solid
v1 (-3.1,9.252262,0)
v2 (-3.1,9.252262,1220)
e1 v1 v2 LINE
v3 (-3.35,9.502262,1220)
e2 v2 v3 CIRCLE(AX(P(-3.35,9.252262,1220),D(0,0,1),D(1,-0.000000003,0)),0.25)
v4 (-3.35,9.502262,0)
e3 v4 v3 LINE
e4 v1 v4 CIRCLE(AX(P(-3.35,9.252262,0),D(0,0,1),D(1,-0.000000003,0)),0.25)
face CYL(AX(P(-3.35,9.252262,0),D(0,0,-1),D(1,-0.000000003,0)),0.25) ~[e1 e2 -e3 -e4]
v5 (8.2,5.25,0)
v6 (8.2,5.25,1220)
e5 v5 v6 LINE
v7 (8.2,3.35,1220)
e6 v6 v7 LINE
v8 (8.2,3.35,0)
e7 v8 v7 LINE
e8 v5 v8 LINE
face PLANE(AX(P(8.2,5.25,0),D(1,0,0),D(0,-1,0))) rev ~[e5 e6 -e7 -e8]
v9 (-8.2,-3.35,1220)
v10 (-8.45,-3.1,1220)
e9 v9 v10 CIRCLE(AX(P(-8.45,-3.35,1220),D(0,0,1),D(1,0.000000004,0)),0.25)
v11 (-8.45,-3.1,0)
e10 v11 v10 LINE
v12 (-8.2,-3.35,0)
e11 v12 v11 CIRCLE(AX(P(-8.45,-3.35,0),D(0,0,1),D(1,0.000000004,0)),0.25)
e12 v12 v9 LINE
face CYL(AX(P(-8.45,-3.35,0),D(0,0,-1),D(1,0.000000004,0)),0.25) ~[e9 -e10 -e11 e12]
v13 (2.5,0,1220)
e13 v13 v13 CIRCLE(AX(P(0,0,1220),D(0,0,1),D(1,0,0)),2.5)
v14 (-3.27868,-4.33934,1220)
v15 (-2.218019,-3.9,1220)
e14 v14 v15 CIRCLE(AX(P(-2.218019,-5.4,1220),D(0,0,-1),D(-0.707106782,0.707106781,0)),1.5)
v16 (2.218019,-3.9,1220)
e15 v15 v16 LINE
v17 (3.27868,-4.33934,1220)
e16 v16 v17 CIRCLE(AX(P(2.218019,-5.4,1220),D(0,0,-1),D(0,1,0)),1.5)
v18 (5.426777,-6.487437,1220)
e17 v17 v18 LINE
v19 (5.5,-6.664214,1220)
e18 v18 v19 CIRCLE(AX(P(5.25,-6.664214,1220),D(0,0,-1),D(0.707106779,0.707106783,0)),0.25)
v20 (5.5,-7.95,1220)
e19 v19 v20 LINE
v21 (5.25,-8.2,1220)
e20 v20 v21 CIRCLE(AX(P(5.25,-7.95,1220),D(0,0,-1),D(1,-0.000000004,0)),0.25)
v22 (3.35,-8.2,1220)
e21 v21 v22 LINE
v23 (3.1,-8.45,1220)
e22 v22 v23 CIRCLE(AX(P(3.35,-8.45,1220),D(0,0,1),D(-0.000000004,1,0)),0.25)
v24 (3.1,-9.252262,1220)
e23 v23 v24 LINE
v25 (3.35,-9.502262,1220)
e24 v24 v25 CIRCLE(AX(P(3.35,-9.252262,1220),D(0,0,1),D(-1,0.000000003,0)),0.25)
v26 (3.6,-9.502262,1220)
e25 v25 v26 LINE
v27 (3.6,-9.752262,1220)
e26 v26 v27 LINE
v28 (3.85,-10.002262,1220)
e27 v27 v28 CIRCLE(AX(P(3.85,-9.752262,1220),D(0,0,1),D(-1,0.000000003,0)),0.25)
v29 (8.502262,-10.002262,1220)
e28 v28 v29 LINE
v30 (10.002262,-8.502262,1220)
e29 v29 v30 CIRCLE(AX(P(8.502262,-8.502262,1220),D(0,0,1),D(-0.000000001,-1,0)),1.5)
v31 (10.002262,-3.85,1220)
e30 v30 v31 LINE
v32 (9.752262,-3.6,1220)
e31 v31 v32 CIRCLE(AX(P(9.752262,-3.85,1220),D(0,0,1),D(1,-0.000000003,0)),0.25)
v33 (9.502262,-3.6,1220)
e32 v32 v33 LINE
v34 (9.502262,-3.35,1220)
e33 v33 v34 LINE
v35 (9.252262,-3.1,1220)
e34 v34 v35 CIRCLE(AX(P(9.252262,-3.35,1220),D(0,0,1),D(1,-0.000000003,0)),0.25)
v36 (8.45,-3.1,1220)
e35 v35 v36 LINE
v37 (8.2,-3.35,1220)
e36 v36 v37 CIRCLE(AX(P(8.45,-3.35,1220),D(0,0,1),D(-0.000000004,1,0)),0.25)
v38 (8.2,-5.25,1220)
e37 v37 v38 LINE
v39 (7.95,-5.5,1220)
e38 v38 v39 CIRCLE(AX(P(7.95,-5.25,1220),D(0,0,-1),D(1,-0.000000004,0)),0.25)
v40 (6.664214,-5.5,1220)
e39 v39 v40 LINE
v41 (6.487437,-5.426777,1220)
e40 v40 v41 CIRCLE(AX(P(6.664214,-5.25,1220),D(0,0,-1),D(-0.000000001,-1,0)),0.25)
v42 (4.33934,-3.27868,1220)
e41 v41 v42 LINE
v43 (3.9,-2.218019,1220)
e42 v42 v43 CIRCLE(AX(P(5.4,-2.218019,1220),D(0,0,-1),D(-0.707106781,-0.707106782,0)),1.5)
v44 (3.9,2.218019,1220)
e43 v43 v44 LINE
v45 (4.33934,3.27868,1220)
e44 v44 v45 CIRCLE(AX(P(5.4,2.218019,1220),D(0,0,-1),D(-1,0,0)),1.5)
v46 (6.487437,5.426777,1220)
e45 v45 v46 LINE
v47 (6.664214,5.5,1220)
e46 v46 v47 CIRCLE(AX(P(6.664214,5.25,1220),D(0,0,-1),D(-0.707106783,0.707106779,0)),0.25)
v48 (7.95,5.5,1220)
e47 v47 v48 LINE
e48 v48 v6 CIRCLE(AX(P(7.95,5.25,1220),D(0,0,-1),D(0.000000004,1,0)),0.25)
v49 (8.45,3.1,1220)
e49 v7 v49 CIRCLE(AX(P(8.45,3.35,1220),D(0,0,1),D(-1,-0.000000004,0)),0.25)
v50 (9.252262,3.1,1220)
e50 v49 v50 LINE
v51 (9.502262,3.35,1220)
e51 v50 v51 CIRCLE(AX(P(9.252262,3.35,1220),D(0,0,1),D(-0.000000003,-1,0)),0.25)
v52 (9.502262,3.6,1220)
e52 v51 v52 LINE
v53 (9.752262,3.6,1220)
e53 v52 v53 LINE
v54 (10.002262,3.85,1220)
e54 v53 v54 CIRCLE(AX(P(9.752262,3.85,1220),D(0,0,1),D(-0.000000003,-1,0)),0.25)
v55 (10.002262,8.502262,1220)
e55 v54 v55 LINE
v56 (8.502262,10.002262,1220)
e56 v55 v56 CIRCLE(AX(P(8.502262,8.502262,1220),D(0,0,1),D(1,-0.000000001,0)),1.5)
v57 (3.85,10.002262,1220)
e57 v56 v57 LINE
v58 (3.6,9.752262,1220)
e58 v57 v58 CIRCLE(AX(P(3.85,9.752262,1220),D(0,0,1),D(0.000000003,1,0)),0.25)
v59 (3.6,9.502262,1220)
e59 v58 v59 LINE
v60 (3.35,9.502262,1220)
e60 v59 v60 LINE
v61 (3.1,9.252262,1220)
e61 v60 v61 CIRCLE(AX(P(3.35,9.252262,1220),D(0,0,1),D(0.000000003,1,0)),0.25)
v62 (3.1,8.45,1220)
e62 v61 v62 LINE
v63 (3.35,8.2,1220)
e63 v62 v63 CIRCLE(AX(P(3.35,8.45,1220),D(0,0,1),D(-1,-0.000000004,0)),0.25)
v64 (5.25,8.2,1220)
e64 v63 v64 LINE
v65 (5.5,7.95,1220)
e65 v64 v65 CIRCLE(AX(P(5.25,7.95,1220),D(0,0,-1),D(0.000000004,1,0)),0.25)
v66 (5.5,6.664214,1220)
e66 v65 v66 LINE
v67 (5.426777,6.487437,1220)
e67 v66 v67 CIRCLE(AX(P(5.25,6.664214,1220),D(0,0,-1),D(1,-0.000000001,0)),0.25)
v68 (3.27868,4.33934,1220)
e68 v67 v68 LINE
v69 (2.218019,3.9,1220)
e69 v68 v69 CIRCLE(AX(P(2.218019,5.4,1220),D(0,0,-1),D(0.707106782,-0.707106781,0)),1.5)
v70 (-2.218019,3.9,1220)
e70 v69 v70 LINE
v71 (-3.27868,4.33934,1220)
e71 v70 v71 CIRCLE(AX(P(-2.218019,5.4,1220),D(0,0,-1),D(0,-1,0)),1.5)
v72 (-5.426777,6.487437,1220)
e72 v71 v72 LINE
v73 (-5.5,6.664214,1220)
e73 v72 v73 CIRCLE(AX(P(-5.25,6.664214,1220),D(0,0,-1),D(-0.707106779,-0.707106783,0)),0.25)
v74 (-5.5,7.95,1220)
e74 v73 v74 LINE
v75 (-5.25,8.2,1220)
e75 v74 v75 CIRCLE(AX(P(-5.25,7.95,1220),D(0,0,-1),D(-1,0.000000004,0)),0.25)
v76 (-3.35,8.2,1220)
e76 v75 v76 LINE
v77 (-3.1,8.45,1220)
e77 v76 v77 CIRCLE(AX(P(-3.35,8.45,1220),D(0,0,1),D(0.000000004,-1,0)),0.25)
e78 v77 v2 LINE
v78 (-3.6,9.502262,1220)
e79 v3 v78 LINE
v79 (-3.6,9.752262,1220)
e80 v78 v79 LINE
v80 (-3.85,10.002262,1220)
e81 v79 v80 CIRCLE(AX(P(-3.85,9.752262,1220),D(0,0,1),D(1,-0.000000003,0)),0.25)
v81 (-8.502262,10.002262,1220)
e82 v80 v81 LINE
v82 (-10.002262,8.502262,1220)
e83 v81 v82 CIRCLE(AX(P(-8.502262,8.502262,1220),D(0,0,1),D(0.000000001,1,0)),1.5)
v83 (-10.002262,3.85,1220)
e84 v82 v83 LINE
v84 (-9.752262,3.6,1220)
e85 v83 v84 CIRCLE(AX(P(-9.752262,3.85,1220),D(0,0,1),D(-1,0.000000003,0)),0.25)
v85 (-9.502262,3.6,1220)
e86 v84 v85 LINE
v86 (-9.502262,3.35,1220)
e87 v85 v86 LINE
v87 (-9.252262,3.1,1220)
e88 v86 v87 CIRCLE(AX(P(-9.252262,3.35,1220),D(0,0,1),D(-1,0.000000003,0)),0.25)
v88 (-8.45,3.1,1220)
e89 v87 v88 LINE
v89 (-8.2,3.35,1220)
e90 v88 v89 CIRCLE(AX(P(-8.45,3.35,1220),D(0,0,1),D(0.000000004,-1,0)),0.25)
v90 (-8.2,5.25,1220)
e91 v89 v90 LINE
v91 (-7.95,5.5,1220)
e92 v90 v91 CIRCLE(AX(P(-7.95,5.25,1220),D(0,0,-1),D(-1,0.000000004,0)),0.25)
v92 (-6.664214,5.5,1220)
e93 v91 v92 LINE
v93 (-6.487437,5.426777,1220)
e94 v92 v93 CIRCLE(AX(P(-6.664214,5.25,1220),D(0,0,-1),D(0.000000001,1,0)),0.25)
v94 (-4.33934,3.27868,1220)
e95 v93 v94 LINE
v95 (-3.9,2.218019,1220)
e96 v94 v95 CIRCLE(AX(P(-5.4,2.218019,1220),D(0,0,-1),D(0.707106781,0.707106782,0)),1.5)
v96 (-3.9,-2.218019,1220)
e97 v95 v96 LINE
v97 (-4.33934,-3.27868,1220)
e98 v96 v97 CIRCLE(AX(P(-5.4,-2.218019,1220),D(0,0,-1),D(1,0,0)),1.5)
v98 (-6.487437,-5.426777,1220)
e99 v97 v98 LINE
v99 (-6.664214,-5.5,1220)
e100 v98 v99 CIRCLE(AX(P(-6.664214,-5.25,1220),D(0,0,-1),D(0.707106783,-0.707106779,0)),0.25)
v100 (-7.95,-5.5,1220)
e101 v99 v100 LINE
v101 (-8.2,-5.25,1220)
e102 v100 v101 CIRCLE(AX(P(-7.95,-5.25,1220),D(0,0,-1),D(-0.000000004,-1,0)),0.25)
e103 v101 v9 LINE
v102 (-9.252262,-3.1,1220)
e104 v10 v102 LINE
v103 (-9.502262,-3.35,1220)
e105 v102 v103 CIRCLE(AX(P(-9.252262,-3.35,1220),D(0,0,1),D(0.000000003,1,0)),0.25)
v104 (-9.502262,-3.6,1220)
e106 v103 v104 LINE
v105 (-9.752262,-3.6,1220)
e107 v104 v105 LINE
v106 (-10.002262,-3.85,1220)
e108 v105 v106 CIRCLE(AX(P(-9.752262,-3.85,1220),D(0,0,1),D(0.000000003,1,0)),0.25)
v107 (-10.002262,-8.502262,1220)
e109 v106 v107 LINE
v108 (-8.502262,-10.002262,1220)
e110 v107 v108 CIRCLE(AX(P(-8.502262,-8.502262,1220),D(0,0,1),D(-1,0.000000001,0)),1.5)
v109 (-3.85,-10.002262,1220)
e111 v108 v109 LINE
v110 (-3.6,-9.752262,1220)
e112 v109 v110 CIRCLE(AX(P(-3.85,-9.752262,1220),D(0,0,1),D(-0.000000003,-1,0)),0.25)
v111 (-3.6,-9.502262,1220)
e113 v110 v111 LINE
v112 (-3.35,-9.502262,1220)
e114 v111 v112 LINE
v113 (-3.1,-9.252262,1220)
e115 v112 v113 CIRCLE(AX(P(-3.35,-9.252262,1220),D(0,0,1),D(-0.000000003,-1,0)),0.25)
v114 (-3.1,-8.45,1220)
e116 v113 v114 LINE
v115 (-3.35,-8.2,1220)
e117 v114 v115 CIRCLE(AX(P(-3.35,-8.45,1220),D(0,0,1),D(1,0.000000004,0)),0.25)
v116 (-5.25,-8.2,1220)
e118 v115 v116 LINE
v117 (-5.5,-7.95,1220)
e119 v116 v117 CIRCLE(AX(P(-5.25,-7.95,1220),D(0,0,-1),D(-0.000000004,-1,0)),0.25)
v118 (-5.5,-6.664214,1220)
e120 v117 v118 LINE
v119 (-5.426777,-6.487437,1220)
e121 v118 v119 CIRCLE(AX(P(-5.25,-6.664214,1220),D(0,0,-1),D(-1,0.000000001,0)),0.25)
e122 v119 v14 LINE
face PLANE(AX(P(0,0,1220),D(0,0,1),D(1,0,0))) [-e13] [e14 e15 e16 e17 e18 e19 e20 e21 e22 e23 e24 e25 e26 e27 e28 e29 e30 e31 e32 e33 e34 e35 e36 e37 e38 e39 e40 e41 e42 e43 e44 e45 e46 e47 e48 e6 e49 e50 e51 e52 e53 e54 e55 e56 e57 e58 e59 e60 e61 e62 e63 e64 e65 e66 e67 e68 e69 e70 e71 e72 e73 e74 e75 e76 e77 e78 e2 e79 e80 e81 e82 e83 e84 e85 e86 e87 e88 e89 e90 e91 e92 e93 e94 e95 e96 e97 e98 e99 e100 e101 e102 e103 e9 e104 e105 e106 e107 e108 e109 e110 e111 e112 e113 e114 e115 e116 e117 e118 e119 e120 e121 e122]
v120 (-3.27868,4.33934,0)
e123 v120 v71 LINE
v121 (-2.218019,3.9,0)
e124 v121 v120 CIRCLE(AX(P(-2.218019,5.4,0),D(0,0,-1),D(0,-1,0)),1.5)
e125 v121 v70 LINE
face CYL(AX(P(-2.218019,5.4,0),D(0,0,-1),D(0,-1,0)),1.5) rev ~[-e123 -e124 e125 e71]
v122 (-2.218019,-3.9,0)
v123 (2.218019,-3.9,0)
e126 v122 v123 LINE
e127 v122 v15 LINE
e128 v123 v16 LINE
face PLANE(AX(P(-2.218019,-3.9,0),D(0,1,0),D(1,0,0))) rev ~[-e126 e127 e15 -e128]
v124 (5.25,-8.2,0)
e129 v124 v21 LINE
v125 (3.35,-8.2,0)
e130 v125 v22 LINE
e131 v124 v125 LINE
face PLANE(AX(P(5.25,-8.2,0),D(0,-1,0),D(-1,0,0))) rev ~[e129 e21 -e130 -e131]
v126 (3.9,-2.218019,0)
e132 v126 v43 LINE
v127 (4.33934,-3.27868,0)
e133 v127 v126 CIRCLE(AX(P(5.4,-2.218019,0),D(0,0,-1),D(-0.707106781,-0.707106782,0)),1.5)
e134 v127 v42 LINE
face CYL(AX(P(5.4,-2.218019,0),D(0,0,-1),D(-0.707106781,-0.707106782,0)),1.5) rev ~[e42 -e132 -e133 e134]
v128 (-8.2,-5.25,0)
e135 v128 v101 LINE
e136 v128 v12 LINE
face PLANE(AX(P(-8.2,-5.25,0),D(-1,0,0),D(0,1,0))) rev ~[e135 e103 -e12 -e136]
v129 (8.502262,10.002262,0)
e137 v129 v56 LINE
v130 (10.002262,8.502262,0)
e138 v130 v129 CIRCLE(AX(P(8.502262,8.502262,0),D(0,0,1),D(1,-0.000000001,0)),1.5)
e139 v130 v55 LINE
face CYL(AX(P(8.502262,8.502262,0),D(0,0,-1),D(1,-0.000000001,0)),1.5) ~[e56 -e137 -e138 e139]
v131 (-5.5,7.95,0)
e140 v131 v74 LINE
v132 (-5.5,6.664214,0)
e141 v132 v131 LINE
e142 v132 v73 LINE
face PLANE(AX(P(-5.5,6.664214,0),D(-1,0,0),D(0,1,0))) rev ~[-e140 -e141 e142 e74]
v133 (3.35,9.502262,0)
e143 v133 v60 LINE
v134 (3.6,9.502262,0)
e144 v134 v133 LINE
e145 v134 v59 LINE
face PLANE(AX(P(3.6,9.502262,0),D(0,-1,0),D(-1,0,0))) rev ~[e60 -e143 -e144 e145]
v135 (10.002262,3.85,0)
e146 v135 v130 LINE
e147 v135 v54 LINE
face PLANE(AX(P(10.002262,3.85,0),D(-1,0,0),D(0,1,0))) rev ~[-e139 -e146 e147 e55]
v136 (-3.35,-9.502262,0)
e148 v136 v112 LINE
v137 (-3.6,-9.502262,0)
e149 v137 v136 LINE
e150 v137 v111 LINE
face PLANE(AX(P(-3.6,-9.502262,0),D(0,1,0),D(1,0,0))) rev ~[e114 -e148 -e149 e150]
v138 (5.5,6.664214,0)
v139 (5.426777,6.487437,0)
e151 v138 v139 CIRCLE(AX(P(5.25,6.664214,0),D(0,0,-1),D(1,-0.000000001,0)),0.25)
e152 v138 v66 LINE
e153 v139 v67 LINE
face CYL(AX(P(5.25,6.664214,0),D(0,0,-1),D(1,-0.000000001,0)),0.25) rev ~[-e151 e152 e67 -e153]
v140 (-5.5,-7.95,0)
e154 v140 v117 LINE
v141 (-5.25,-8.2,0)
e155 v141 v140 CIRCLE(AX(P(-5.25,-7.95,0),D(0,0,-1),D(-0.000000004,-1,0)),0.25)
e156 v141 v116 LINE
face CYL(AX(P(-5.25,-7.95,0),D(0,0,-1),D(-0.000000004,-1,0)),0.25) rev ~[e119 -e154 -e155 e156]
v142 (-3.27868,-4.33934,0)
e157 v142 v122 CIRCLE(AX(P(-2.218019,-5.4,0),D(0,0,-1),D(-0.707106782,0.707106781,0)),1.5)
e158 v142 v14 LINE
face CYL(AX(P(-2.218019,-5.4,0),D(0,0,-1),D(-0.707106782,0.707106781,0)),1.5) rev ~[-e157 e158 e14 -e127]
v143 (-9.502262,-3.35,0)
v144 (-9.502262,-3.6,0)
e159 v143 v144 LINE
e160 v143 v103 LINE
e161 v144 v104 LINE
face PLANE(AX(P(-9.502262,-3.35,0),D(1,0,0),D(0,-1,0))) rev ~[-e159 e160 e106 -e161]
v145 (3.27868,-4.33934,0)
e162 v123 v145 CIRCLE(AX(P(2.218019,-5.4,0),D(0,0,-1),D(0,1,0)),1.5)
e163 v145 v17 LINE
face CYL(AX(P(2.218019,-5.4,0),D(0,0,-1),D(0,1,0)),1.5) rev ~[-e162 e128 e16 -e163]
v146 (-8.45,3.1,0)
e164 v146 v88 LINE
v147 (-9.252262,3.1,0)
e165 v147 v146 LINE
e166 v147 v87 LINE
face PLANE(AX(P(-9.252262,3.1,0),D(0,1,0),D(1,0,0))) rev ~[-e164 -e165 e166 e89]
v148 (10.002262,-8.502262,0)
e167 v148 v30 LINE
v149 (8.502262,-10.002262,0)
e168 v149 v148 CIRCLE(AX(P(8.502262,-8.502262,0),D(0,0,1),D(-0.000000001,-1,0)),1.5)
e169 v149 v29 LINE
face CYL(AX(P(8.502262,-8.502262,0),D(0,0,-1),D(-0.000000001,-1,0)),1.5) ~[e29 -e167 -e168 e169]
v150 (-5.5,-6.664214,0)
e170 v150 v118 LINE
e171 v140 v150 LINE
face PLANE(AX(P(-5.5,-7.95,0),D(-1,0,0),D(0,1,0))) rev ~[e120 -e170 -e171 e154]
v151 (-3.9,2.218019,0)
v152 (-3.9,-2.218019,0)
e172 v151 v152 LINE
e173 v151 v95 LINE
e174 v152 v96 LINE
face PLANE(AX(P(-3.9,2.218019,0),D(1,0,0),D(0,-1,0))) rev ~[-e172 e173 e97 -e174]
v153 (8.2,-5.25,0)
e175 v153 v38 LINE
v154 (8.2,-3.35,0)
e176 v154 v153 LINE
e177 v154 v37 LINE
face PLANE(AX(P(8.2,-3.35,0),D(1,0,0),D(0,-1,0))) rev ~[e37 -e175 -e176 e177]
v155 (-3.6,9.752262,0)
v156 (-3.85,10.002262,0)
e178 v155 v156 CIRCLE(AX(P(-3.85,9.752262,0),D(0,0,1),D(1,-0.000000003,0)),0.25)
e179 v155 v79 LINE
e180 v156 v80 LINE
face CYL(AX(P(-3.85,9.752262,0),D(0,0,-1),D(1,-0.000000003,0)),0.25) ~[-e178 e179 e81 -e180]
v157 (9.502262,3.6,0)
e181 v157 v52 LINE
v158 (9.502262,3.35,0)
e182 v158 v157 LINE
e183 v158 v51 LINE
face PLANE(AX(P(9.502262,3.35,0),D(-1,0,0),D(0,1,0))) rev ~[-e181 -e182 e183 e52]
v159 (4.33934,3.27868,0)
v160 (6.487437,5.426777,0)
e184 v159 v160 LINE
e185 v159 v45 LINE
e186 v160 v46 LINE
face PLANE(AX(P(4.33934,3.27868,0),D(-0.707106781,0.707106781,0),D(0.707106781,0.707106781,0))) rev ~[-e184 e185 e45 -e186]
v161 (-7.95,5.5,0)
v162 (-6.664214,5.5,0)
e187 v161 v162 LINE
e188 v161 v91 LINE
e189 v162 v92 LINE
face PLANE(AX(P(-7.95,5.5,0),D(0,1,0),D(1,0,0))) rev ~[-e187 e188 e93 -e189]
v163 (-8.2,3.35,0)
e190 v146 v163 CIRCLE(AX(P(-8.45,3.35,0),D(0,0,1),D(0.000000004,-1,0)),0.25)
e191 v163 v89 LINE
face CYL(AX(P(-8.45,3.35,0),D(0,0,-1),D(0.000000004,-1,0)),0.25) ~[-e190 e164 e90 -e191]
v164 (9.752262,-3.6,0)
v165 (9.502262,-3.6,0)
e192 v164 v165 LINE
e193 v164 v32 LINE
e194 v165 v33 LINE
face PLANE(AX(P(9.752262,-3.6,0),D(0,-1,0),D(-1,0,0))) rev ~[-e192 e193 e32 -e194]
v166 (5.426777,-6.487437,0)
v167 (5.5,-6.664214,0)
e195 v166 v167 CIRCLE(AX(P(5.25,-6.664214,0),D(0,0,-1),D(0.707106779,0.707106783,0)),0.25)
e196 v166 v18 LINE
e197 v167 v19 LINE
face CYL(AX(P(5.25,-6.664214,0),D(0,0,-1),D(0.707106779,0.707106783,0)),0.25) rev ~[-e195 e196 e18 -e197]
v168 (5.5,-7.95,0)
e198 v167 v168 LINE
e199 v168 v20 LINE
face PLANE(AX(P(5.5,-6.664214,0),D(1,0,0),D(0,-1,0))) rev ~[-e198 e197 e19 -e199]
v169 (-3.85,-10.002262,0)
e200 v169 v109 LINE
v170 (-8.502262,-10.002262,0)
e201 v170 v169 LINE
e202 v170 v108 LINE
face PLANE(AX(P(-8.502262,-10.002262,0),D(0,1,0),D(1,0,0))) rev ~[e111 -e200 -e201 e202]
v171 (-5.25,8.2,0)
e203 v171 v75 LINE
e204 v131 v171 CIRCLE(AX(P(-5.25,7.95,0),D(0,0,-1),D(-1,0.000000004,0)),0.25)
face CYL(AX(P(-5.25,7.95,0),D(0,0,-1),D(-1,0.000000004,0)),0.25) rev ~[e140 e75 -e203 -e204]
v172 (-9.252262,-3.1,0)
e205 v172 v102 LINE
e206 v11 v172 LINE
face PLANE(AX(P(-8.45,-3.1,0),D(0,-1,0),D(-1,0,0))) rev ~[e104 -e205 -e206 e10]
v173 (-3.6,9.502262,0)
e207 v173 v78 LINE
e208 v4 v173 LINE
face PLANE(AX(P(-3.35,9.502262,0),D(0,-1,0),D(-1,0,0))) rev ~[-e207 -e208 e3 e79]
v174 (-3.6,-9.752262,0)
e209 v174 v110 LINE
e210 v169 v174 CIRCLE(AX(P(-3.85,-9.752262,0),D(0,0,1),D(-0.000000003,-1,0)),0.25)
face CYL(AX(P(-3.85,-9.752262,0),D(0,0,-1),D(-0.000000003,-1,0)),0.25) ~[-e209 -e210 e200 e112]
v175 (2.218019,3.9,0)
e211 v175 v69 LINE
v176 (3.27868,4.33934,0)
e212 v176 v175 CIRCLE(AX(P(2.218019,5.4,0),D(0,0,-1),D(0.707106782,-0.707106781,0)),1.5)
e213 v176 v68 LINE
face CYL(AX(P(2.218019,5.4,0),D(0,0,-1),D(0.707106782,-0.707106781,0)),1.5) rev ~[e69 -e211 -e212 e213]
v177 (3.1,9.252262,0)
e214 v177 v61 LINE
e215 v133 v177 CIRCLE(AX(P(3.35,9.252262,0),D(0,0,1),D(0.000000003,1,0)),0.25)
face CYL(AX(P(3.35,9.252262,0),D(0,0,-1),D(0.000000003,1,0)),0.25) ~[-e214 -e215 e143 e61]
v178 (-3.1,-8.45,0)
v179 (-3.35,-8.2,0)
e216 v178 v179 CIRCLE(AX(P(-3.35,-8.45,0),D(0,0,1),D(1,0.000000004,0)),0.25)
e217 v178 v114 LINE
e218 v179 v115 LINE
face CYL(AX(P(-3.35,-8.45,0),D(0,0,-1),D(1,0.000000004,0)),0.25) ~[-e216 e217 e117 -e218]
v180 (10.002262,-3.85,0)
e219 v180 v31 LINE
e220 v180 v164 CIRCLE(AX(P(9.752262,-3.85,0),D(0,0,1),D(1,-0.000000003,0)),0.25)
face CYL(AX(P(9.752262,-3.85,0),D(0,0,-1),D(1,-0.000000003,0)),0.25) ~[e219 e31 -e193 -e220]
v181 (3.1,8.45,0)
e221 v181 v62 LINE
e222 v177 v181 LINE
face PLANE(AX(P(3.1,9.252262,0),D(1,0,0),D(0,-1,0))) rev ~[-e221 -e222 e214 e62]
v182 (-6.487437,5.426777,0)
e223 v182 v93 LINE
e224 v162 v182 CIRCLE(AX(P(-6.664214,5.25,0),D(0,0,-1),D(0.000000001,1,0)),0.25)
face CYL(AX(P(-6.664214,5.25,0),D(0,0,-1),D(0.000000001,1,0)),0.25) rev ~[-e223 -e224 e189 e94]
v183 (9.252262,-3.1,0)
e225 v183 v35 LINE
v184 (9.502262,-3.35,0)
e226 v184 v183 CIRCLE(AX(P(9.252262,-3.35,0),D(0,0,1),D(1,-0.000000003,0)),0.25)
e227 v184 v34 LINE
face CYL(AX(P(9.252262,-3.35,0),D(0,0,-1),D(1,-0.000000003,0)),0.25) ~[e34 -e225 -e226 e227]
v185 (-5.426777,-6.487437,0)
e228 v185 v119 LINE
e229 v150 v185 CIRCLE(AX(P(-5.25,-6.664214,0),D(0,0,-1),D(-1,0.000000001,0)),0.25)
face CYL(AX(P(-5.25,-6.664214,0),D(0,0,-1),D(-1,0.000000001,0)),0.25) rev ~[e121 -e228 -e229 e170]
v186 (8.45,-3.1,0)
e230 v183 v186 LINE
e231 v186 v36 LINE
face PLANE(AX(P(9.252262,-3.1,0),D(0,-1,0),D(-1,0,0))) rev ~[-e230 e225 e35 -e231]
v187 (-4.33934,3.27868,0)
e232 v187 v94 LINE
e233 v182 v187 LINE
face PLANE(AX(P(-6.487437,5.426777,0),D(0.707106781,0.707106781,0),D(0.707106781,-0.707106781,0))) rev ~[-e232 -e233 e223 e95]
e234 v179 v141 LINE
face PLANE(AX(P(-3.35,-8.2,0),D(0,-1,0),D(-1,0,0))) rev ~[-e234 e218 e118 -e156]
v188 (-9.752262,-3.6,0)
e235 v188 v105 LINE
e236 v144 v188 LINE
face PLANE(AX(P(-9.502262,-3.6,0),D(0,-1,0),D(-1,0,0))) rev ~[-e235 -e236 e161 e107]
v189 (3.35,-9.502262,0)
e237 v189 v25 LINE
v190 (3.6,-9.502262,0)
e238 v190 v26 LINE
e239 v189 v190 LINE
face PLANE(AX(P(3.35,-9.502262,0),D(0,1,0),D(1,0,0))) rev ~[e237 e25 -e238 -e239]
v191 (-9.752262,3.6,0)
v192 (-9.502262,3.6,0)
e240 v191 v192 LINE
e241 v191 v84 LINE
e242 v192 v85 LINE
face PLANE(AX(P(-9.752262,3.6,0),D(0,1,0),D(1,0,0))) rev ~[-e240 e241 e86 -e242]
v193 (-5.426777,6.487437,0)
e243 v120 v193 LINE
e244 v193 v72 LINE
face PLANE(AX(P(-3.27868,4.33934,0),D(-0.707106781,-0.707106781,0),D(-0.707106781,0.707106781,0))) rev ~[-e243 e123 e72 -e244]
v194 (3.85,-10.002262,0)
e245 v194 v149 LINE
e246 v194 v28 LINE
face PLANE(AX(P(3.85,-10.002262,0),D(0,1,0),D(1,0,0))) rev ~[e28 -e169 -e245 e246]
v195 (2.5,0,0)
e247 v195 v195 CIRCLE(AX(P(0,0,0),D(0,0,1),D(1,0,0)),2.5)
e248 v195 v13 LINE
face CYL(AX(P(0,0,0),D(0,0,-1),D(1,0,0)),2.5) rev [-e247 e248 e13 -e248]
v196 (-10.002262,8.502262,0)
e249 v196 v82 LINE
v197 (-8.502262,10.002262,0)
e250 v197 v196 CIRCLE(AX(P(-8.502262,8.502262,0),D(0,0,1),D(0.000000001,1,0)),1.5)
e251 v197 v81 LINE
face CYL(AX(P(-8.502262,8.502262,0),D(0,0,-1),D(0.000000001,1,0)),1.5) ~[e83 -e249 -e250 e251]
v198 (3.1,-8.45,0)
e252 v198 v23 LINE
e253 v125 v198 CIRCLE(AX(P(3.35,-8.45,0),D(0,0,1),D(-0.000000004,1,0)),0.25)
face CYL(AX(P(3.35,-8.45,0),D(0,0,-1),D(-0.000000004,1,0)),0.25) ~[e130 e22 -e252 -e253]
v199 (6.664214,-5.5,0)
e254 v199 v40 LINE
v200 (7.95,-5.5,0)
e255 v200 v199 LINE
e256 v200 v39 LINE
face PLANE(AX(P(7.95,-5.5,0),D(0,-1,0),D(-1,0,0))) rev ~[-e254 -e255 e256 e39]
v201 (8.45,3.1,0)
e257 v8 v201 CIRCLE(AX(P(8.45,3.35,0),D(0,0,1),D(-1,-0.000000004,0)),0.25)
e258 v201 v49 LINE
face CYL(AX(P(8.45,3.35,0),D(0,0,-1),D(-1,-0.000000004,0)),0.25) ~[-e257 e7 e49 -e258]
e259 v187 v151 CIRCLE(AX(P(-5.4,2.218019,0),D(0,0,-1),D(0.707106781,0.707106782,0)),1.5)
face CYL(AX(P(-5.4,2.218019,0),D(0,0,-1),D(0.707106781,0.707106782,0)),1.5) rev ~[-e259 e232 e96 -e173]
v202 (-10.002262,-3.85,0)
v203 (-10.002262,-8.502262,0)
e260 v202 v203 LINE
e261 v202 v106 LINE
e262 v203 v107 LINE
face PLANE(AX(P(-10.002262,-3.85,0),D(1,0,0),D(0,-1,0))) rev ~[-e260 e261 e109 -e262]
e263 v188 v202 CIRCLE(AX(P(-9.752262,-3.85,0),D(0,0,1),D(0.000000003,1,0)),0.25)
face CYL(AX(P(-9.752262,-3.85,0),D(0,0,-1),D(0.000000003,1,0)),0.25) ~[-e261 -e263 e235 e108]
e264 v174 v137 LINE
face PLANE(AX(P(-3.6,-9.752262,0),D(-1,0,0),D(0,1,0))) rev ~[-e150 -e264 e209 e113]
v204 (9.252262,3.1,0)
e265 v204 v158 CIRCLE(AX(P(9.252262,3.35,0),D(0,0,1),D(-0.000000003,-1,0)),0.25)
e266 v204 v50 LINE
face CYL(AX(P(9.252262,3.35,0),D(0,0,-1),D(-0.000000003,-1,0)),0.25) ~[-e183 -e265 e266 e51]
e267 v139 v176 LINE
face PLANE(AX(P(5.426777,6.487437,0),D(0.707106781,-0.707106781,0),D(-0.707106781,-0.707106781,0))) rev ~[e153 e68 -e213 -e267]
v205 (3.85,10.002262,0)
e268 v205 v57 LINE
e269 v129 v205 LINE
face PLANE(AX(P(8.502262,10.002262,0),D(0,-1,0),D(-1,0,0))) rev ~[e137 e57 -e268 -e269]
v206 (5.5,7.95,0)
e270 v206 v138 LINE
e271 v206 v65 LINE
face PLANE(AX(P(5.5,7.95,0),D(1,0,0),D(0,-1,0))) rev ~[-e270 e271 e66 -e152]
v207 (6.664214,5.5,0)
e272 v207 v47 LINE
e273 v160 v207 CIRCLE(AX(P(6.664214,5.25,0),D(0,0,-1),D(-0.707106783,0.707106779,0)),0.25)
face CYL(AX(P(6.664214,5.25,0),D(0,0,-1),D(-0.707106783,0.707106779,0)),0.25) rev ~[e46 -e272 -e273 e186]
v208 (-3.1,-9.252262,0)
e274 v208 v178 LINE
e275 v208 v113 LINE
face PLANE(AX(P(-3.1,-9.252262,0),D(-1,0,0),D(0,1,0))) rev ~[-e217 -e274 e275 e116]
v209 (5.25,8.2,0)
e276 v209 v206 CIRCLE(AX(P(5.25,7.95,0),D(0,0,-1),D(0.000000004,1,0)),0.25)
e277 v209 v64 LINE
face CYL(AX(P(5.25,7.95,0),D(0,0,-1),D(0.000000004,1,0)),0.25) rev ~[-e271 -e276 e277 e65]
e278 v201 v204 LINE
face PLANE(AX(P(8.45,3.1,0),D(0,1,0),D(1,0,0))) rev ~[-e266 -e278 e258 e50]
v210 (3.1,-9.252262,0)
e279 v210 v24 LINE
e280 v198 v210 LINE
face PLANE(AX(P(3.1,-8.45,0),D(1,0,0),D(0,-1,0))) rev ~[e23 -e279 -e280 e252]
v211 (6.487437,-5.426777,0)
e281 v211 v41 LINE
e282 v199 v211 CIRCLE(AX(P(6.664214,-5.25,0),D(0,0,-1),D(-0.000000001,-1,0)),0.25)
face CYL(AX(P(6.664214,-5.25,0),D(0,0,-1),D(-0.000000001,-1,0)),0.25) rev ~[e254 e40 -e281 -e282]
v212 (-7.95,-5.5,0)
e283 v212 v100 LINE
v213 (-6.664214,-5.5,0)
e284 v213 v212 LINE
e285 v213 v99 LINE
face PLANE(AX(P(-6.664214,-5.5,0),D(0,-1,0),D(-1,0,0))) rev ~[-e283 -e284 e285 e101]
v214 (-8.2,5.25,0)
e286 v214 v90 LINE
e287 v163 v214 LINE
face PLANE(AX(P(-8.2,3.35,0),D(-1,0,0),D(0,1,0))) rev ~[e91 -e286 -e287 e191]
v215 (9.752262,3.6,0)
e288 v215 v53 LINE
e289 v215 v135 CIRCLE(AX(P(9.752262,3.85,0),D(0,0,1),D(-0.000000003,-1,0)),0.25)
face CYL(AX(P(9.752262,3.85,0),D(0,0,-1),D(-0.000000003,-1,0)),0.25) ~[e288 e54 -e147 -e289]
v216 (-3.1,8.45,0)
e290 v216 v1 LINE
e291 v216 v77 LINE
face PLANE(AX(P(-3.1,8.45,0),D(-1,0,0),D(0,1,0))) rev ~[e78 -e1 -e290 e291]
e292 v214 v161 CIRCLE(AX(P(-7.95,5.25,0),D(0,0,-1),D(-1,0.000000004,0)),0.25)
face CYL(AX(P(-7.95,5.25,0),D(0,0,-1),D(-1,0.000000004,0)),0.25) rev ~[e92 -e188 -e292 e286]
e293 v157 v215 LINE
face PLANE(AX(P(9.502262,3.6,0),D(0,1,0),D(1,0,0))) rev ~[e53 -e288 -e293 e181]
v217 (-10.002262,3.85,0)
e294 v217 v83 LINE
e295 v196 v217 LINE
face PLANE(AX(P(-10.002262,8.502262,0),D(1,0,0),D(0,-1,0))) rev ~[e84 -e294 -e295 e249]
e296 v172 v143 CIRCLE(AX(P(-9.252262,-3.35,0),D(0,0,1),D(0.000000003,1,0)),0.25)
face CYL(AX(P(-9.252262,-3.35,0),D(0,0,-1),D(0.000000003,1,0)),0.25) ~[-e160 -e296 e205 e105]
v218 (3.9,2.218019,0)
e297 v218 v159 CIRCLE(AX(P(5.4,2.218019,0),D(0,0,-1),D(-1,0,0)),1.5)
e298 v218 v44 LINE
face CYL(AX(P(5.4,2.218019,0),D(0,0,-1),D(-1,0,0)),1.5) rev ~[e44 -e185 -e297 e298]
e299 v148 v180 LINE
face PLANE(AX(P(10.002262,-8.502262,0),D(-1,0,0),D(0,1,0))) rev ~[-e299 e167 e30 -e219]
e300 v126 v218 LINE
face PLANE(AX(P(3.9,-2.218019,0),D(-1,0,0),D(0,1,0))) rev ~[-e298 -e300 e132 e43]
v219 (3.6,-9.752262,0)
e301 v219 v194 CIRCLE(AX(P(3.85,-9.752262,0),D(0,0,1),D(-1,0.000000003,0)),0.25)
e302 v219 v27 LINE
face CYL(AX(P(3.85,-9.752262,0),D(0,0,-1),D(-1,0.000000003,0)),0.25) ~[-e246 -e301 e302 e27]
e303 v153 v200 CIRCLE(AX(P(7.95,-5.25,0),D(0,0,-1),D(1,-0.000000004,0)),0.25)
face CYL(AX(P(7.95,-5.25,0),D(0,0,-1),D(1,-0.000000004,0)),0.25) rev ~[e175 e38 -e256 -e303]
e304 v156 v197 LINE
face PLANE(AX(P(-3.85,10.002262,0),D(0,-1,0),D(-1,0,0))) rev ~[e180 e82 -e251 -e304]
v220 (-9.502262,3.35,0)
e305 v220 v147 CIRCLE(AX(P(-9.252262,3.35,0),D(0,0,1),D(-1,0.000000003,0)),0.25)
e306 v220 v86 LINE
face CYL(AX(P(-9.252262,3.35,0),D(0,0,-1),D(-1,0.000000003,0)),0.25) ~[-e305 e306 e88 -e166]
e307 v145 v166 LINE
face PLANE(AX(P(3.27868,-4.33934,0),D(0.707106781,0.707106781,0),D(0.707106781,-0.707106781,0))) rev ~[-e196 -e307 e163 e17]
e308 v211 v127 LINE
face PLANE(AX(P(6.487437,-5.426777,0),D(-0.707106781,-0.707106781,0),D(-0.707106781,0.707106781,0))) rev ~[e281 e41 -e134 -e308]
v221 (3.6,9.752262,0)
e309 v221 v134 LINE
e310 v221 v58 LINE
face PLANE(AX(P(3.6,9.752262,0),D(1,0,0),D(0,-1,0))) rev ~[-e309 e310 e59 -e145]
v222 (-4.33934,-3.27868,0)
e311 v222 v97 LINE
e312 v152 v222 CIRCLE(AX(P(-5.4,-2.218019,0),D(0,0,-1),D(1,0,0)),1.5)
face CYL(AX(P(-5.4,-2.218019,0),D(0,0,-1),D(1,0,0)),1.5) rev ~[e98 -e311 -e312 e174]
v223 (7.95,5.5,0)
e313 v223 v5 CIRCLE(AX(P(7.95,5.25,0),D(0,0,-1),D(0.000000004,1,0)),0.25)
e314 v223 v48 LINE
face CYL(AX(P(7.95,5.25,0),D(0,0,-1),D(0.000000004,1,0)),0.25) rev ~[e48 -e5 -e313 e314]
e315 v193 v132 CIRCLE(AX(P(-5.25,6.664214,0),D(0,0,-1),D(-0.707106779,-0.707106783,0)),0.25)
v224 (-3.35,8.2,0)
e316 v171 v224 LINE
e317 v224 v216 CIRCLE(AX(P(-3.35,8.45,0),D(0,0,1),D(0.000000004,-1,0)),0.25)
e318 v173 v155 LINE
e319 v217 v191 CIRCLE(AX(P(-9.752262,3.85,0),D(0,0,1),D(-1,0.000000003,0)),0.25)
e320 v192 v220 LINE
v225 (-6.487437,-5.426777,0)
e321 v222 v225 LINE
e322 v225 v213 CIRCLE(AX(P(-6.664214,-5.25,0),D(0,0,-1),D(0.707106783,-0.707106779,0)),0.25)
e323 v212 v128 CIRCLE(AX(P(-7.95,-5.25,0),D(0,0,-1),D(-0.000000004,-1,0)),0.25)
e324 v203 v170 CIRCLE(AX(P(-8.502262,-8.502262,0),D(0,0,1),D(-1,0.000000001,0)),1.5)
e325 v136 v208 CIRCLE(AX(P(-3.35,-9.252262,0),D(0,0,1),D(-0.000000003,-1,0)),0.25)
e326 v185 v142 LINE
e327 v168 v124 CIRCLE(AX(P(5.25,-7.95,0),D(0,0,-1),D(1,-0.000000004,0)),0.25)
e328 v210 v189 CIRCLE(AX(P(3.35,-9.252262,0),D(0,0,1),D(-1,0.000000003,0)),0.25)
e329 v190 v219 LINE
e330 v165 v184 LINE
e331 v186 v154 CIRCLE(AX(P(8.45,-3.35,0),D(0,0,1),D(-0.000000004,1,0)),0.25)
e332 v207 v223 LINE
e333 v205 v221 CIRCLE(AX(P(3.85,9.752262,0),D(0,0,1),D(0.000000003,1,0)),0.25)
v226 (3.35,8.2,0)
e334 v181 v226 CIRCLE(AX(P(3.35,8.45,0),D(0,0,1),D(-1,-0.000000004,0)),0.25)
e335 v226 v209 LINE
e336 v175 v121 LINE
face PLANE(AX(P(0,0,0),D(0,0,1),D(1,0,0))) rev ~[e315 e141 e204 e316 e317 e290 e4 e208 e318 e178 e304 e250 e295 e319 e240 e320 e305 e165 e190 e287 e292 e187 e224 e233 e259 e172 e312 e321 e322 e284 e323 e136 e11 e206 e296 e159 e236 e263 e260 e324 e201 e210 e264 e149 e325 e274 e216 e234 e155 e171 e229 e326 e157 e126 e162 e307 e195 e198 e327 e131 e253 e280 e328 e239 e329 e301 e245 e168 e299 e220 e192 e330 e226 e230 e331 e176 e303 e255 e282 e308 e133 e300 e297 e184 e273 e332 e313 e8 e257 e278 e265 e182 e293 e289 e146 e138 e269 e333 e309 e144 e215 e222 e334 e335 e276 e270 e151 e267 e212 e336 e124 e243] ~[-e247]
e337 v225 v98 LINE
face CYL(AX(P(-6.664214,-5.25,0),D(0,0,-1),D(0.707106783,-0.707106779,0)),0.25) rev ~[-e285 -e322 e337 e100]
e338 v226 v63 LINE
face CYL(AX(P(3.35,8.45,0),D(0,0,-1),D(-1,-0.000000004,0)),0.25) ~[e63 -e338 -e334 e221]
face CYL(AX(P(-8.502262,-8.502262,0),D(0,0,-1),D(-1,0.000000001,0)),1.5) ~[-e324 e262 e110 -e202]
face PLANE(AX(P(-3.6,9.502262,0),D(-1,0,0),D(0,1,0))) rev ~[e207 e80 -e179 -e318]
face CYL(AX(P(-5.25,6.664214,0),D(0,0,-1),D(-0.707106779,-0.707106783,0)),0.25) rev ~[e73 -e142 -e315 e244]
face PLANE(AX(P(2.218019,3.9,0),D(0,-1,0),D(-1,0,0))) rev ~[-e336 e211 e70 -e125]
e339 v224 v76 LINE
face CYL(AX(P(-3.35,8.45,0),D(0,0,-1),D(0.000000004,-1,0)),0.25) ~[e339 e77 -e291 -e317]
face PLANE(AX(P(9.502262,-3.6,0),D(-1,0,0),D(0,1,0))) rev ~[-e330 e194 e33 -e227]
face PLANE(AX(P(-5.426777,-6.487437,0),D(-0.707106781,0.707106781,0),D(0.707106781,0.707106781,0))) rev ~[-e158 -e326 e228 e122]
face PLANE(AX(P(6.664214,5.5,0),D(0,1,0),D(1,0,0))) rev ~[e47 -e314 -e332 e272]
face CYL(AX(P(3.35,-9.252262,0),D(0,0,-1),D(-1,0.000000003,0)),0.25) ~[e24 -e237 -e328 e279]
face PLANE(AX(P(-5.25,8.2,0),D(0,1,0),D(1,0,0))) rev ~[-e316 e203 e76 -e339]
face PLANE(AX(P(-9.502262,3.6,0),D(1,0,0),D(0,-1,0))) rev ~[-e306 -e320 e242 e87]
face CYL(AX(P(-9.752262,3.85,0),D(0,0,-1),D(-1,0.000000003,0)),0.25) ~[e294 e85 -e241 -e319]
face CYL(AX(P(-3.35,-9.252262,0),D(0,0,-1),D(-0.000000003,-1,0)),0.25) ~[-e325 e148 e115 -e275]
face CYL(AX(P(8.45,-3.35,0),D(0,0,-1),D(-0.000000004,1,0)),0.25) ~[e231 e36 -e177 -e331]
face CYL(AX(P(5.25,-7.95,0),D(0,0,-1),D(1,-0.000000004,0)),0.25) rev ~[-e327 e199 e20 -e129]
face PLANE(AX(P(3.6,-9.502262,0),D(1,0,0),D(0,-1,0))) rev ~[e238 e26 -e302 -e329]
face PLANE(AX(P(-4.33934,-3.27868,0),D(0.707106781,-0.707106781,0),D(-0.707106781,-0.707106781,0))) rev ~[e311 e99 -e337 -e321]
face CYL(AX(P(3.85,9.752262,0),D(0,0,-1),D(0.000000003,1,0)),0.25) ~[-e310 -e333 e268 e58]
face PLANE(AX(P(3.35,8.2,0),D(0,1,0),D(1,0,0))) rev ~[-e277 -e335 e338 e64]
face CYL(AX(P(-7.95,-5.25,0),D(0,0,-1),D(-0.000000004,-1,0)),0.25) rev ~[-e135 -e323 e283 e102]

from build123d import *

# Parameters (mm, degrees)
SKETCH_1_R      = 2.5
EXTRUDE_1_DEPTH = 1220


with BuildPart() as part:
    # 草图1 → 凸台-拉伸1 (new body)
    with BuildSketch(Plane.XY):
        with BuildLine():
            Line((-8.502261885, -10.002261885), (-3.85, -10.002261885))
            ThreePointArc((-3.85, -10.002261885), (-3.673223305, -9.929038581), (-3.6, -9.752261885))
            Line((-3.6, -9.752261885), (-3.6, -9.502261885))
            Line((-3.6, -9.502261885), (-3.35, -9.502261885))
            ThreePointArc((-3.35, -9.502261885), (-3.173223305, -9.429038581), (-3.1, -9.252261885))
            Line((-3.1, -9.252261885), (-3.1, -8.45))
            ThreePointArc((-3.1, -8.45), (-3.173223305, -8.273223305), (-3.35, -8.2))
            Line((-3.35, -8.2), (-5.25, -8.2))
            ThreePointArc((-5.25, -8.2), (-5.426776695, -8.126776695), (-5.5, -7.95))
            Line((-5.5, -7.95), (-5.5, -6.664213562))
            ThreePointArc((-5.5, -6.664213562), (-5.480969883, -6.568542704), (-5.426776695, -6.487436867))
            Line((-5.426776695, -6.487436867), (-3.278679656, -4.339339828))
            ThreePointArc((-3.278679656, -4.339339828), (-2.792044633, -4.014180701), (-2.218019485, -3.9))
            Line((-2.218019485, -3.9), (2.218019485, -3.9))
            ThreePointArc((2.218019485, -3.9), (2.792044633, -4.014180701), (3.278679656, -4.339339828))
            Line((3.278679656, -4.339339828), (5.426776695, -6.487436867))
            ThreePointArc((5.426776695, -6.487436867), (5.480969883, -6.568542704), (5.5, -6.664213562))
            Line((5.5, -6.664213562), (5.5, -7.95))
            ThreePointArc((5.5, -7.95), (5.426776695, -8.126776695), (5.25, -8.2))
            Line((5.25, -8.2), (3.35, -8.2))
            ThreePointArc((3.35, -8.2), (3.173223305, -8.273223305), (3.1, -8.45))
            Line((3.1, -8.45), (3.1, -9.252261885))
            ThreePointArc((3.1, -9.252261885), (3.173223305, -9.429038581), (3.35, -9.502261885))
            Line((3.35, -9.502261885), (3.6, -9.502261885))
            Line((3.6, -9.502261885), (3.6, -9.752261885))
            ThreePointArc((3.6, -9.752261885), (3.673223305, -9.929038581), (3.85, -10.002261885))
            Line((3.85, -10.002261885), (8.502261885, -10.002261885))
            ThreePointArc((8.502261885, -10.002261885), (9.562922057, -9.562922057), (10.002261885, -8.502261885))
            Line((10.002261885, -8.502261885), (10.002261885, -3.85))
            ThreePointArc((10.002261885, -3.85), (9.929038581, -3.673223305), (9.752261885, -3.6))
            Line((9.752261885, -3.6), (9.502261885, -3.6))
            Line((9.502261885, -3.6), (9.502261885, -3.35))
            ThreePointArc((9.502261885, -3.35), (9.429038581, -3.173223305), (9.252261885, -3.1))
            Line((9.252261885, -3.1), (8.45, -3.1))
            ThreePointArc((8.45, -3.1), (8.273223305, -3.173223305), (8.2, -3.35))
            Line((8.2, -3.35), (8.2, -5.25))
            ThreePointArc((8.2, -5.25), (8.126776695, -5.426776695), (7.95, -5.5))
            Line((7.95, -5.5), (6.664213562, -5.5))
            ThreePointArc((6.664213562, -5.5), (6.568542704, -5.480969883), (6.487436867, -5.426776695))
            Line((6.487436867, -5.426776695), (4.339339828, -3.278679656))
            ThreePointArc((4.339339828, -3.278679656), (4.014180701, -2.792044633), (3.9, -2.218019485))
            Line((3.9, -2.218019485), (3.9, 2.218019485))
            ThreePointArc((3.9, 2.218019485), (4.014180701, 2.792044633), (4.339339828, 3.278679656))
            Line((4.339339828, 3.278679656), (6.487436867, 5.426776695))
            ThreePointArc((6.487436867, 5.426776695), (6.568542704, 5.480969883), (6.664213562, 5.5))
            Line((6.664213562, 5.5), (7.95, 5.5))
            ThreePointArc((7.95, 5.5), (8.126776695, 5.426776695), (8.2, 5.25))
            Line((8.2, 5.25), (8.2, 3.35))
            ThreePointArc((8.2, 3.35), (8.273223305, 3.173223305), (8.45, 3.1))
            Line((8.45, 3.1), (9.252261885, 3.1))
            ThreePointArc((9.252261885, 3.1), (9.429038581, 3.173223305), (9.502261885, 3.35))
            Line((9.502261885, 3.35), (9.502261885, 3.6))
            Line((9.502261885, 3.6), (9.752261885, 3.6))
            ThreePointArc((9.752261885, 3.6), (9.929038581, 3.673223305), (10.002261885, 3.85))
            Line((10.002261885, 3.85), (10.002261885, 8.502261885))
            ThreePointArc((10.002261885, 8.502261885), (9.562922057, 9.562922057), (8.502261885, 10.002261885))
            Line((8.502261885, 10.002261885), (3.85, 10.002261885))
            ThreePointArc((3.85, 10.002261885), (3.673223305, 9.929038581), (3.6, 9.752261885))
            Line((3.6, 9.752261885), (3.6, 9.502261885))
            Line((3.6, 9.502261885), (3.35, 9.502261885))
            ThreePointArc((3.35, 9.502261885), (3.173223305, 9.429038581), (3.1, 9.252261885))
            Line((3.1, 9.252261885), (3.1, 8.45))
            ThreePointArc((3.1, 8.45), (3.173223305, 8.273223305), (3.35, 8.2))
            Line((3.35, 8.2), (5.25, 8.2))
            ThreePointArc((5.25, 8.2), (5.426776695, 8.126776695), (5.5, 7.95))
            Line((5.5, 7.95), (5.5, 6.664213562))
            ThreePointArc((5.5, 6.664213562), (5.480969883, 6.568542704), (5.426776695, 6.487436867))
            Line((5.426776695, 6.487436867), (3.278679656, 4.339339828))
            ThreePointArc((3.278679656, 4.339339828), (2.792044633, 4.014180701), (2.218019485, 3.9))
            Line((2.218019485, 3.9), (-2.218019485, 3.9))
            ThreePointArc((-2.218019485, 3.9), (-2.792044633, 4.014180701), (-3.278679656, 4.339339828))
            Line((-3.278679656, 4.339339828), (-5.426776695, 6.487436867))
            ThreePointArc((-5.426776695, 6.487436867), (-5.480969883, 6.568542704), (-5.5, 6.664213562))
            Line((-5.5, 6.664213562), (-5.5, 7.95))
            ThreePointArc((-5.5, 7.95), (-5.426776695, 8.126776695), (-5.25, 8.2))
            Line((-5.25, 8.2), (-3.35, 8.2))
            ThreePointArc((-3.35, 8.2), (-3.173223305, 8.273223305), (-3.1, 8.45))
            Line((-3.1, 8.45), (-3.1, 9.252261885))
            ThreePointArc((-3.1, 9.252261885), (-3.173223305, 9.429038581), (-3.35, 9.502261885))
            Line((-3.35, 9.502261885), (-3.6, 9.502261885))
            Line((-3.6, 9.502261885), (-3.6, 9.752261885))
            ThreePointArc((-3.6, 9.752261885), (-3.673223305, 9.929038581), (-3.85, 10.002261885))
            Line((-3.85, 10.002261885), (-8.502261885, 10.002261885))
            ThreePointArc((-8.502261885, 10.002261885), (-9.562922057, 9.562922057), (-10.002261885, 8.502261885))
            Line((-10.002261885, 8.502261885), (-10.002261885, 3.85))
            ThreePointArc((-10.002261885, 3.85), (-9.929038581, 3.673223305), (-9.752261885, 3.6))
            Line((-9.752261885, 3.6), (-9.502261885, 3.6))
            Line((-9.502261885, 3.6), (-9.502261885, 3.35))
            ThreePointArc((-9.502261885, 3.35), (-9.429038581, 3.173223305), (-9.252261885, 3.1))
            Line((-9.252261885, 3.1), (-8.45, 3.1))
            ThreePointArc((-8.45, 3.1), (-8.273223305, 3.173223305), (-8.2, 3.35))
            Line((-8.2, 3.35), (-8.2, 5.25))
            ThreePointArc((-8.2, 5.25), (-8.126776695, 5.426776695), (-7.95, 5.5))
            Line((-7.95, 5.5), (-6.664213562, 5.5))
            ThreePointArc((-6.664213562, 5.5), (-6.568542704, 5.480969883), (-6.487436867, 5.426776695))
            Line((-6.487436867, 5.426776695), (-4.339339828, 3.278679656))
            ThreePointArc((-4.339339828, 3.278679656), (-4.014180701, 2.792044633), (-3.9, 2.218019485))
            Line((-3.9, 2.218019485), (-3.9, -2.218019485))
            ThreePointArc((-3.9, -2.218019485), (-4.014180701, -2.792044633), (-4.339339828, -3.278679656))
            Line((-4.339339828, -3.278679656), (-6.487436867, -5.426776695))
            ThreePointArc((-6.487436867, -5.426776695), (-6.568542704, -5.480969883), (-6.664213562, -5.5))
            Line((-6.664213562, -5.5), (-7.95, -5.5))
            ThreePointArc((-7.95, -5.5), (-8.126776695, -5.426776695), (-8.2, -5.25))
            Line((-8.2, -5.25), (-8.2, -3.35))
            ThreePointArc((-8.2, -3.35), (-8.273223305, -3.173223305), (-8.45, -3.1))
            Line((-8.45, -3.1), (-9.252261885, -3.1))
            ThreePointArc((-9.252261885, -3.1), (-9.429038581, -3.173223305), (-9.502261885, -3.35))
            Line((-9.502261885, -3.35), (-9.502261885, -3.6))
            Line((-9.502261885, -3.6), (-9.752261885, -3.6))
            ThreePointArc((-9.752261885, -3.6), (-9.929038581, -3.673223305), (-10.002261885, -3.85))
            Line((-10.002261885, -3.85), (-10.002261885, -8.502261885))
            ThreePointArc((-10.002261885, -8.502261885), (-9.562922057, -9.562922057), (-8.502261885, -10.002261885))
        make_face()
        Circle(SKETCH_1_R, mode=Mode.SUBTRACT)
    extrude(amount=EXTRUDE_1_DEPTH)


solid = part.part
